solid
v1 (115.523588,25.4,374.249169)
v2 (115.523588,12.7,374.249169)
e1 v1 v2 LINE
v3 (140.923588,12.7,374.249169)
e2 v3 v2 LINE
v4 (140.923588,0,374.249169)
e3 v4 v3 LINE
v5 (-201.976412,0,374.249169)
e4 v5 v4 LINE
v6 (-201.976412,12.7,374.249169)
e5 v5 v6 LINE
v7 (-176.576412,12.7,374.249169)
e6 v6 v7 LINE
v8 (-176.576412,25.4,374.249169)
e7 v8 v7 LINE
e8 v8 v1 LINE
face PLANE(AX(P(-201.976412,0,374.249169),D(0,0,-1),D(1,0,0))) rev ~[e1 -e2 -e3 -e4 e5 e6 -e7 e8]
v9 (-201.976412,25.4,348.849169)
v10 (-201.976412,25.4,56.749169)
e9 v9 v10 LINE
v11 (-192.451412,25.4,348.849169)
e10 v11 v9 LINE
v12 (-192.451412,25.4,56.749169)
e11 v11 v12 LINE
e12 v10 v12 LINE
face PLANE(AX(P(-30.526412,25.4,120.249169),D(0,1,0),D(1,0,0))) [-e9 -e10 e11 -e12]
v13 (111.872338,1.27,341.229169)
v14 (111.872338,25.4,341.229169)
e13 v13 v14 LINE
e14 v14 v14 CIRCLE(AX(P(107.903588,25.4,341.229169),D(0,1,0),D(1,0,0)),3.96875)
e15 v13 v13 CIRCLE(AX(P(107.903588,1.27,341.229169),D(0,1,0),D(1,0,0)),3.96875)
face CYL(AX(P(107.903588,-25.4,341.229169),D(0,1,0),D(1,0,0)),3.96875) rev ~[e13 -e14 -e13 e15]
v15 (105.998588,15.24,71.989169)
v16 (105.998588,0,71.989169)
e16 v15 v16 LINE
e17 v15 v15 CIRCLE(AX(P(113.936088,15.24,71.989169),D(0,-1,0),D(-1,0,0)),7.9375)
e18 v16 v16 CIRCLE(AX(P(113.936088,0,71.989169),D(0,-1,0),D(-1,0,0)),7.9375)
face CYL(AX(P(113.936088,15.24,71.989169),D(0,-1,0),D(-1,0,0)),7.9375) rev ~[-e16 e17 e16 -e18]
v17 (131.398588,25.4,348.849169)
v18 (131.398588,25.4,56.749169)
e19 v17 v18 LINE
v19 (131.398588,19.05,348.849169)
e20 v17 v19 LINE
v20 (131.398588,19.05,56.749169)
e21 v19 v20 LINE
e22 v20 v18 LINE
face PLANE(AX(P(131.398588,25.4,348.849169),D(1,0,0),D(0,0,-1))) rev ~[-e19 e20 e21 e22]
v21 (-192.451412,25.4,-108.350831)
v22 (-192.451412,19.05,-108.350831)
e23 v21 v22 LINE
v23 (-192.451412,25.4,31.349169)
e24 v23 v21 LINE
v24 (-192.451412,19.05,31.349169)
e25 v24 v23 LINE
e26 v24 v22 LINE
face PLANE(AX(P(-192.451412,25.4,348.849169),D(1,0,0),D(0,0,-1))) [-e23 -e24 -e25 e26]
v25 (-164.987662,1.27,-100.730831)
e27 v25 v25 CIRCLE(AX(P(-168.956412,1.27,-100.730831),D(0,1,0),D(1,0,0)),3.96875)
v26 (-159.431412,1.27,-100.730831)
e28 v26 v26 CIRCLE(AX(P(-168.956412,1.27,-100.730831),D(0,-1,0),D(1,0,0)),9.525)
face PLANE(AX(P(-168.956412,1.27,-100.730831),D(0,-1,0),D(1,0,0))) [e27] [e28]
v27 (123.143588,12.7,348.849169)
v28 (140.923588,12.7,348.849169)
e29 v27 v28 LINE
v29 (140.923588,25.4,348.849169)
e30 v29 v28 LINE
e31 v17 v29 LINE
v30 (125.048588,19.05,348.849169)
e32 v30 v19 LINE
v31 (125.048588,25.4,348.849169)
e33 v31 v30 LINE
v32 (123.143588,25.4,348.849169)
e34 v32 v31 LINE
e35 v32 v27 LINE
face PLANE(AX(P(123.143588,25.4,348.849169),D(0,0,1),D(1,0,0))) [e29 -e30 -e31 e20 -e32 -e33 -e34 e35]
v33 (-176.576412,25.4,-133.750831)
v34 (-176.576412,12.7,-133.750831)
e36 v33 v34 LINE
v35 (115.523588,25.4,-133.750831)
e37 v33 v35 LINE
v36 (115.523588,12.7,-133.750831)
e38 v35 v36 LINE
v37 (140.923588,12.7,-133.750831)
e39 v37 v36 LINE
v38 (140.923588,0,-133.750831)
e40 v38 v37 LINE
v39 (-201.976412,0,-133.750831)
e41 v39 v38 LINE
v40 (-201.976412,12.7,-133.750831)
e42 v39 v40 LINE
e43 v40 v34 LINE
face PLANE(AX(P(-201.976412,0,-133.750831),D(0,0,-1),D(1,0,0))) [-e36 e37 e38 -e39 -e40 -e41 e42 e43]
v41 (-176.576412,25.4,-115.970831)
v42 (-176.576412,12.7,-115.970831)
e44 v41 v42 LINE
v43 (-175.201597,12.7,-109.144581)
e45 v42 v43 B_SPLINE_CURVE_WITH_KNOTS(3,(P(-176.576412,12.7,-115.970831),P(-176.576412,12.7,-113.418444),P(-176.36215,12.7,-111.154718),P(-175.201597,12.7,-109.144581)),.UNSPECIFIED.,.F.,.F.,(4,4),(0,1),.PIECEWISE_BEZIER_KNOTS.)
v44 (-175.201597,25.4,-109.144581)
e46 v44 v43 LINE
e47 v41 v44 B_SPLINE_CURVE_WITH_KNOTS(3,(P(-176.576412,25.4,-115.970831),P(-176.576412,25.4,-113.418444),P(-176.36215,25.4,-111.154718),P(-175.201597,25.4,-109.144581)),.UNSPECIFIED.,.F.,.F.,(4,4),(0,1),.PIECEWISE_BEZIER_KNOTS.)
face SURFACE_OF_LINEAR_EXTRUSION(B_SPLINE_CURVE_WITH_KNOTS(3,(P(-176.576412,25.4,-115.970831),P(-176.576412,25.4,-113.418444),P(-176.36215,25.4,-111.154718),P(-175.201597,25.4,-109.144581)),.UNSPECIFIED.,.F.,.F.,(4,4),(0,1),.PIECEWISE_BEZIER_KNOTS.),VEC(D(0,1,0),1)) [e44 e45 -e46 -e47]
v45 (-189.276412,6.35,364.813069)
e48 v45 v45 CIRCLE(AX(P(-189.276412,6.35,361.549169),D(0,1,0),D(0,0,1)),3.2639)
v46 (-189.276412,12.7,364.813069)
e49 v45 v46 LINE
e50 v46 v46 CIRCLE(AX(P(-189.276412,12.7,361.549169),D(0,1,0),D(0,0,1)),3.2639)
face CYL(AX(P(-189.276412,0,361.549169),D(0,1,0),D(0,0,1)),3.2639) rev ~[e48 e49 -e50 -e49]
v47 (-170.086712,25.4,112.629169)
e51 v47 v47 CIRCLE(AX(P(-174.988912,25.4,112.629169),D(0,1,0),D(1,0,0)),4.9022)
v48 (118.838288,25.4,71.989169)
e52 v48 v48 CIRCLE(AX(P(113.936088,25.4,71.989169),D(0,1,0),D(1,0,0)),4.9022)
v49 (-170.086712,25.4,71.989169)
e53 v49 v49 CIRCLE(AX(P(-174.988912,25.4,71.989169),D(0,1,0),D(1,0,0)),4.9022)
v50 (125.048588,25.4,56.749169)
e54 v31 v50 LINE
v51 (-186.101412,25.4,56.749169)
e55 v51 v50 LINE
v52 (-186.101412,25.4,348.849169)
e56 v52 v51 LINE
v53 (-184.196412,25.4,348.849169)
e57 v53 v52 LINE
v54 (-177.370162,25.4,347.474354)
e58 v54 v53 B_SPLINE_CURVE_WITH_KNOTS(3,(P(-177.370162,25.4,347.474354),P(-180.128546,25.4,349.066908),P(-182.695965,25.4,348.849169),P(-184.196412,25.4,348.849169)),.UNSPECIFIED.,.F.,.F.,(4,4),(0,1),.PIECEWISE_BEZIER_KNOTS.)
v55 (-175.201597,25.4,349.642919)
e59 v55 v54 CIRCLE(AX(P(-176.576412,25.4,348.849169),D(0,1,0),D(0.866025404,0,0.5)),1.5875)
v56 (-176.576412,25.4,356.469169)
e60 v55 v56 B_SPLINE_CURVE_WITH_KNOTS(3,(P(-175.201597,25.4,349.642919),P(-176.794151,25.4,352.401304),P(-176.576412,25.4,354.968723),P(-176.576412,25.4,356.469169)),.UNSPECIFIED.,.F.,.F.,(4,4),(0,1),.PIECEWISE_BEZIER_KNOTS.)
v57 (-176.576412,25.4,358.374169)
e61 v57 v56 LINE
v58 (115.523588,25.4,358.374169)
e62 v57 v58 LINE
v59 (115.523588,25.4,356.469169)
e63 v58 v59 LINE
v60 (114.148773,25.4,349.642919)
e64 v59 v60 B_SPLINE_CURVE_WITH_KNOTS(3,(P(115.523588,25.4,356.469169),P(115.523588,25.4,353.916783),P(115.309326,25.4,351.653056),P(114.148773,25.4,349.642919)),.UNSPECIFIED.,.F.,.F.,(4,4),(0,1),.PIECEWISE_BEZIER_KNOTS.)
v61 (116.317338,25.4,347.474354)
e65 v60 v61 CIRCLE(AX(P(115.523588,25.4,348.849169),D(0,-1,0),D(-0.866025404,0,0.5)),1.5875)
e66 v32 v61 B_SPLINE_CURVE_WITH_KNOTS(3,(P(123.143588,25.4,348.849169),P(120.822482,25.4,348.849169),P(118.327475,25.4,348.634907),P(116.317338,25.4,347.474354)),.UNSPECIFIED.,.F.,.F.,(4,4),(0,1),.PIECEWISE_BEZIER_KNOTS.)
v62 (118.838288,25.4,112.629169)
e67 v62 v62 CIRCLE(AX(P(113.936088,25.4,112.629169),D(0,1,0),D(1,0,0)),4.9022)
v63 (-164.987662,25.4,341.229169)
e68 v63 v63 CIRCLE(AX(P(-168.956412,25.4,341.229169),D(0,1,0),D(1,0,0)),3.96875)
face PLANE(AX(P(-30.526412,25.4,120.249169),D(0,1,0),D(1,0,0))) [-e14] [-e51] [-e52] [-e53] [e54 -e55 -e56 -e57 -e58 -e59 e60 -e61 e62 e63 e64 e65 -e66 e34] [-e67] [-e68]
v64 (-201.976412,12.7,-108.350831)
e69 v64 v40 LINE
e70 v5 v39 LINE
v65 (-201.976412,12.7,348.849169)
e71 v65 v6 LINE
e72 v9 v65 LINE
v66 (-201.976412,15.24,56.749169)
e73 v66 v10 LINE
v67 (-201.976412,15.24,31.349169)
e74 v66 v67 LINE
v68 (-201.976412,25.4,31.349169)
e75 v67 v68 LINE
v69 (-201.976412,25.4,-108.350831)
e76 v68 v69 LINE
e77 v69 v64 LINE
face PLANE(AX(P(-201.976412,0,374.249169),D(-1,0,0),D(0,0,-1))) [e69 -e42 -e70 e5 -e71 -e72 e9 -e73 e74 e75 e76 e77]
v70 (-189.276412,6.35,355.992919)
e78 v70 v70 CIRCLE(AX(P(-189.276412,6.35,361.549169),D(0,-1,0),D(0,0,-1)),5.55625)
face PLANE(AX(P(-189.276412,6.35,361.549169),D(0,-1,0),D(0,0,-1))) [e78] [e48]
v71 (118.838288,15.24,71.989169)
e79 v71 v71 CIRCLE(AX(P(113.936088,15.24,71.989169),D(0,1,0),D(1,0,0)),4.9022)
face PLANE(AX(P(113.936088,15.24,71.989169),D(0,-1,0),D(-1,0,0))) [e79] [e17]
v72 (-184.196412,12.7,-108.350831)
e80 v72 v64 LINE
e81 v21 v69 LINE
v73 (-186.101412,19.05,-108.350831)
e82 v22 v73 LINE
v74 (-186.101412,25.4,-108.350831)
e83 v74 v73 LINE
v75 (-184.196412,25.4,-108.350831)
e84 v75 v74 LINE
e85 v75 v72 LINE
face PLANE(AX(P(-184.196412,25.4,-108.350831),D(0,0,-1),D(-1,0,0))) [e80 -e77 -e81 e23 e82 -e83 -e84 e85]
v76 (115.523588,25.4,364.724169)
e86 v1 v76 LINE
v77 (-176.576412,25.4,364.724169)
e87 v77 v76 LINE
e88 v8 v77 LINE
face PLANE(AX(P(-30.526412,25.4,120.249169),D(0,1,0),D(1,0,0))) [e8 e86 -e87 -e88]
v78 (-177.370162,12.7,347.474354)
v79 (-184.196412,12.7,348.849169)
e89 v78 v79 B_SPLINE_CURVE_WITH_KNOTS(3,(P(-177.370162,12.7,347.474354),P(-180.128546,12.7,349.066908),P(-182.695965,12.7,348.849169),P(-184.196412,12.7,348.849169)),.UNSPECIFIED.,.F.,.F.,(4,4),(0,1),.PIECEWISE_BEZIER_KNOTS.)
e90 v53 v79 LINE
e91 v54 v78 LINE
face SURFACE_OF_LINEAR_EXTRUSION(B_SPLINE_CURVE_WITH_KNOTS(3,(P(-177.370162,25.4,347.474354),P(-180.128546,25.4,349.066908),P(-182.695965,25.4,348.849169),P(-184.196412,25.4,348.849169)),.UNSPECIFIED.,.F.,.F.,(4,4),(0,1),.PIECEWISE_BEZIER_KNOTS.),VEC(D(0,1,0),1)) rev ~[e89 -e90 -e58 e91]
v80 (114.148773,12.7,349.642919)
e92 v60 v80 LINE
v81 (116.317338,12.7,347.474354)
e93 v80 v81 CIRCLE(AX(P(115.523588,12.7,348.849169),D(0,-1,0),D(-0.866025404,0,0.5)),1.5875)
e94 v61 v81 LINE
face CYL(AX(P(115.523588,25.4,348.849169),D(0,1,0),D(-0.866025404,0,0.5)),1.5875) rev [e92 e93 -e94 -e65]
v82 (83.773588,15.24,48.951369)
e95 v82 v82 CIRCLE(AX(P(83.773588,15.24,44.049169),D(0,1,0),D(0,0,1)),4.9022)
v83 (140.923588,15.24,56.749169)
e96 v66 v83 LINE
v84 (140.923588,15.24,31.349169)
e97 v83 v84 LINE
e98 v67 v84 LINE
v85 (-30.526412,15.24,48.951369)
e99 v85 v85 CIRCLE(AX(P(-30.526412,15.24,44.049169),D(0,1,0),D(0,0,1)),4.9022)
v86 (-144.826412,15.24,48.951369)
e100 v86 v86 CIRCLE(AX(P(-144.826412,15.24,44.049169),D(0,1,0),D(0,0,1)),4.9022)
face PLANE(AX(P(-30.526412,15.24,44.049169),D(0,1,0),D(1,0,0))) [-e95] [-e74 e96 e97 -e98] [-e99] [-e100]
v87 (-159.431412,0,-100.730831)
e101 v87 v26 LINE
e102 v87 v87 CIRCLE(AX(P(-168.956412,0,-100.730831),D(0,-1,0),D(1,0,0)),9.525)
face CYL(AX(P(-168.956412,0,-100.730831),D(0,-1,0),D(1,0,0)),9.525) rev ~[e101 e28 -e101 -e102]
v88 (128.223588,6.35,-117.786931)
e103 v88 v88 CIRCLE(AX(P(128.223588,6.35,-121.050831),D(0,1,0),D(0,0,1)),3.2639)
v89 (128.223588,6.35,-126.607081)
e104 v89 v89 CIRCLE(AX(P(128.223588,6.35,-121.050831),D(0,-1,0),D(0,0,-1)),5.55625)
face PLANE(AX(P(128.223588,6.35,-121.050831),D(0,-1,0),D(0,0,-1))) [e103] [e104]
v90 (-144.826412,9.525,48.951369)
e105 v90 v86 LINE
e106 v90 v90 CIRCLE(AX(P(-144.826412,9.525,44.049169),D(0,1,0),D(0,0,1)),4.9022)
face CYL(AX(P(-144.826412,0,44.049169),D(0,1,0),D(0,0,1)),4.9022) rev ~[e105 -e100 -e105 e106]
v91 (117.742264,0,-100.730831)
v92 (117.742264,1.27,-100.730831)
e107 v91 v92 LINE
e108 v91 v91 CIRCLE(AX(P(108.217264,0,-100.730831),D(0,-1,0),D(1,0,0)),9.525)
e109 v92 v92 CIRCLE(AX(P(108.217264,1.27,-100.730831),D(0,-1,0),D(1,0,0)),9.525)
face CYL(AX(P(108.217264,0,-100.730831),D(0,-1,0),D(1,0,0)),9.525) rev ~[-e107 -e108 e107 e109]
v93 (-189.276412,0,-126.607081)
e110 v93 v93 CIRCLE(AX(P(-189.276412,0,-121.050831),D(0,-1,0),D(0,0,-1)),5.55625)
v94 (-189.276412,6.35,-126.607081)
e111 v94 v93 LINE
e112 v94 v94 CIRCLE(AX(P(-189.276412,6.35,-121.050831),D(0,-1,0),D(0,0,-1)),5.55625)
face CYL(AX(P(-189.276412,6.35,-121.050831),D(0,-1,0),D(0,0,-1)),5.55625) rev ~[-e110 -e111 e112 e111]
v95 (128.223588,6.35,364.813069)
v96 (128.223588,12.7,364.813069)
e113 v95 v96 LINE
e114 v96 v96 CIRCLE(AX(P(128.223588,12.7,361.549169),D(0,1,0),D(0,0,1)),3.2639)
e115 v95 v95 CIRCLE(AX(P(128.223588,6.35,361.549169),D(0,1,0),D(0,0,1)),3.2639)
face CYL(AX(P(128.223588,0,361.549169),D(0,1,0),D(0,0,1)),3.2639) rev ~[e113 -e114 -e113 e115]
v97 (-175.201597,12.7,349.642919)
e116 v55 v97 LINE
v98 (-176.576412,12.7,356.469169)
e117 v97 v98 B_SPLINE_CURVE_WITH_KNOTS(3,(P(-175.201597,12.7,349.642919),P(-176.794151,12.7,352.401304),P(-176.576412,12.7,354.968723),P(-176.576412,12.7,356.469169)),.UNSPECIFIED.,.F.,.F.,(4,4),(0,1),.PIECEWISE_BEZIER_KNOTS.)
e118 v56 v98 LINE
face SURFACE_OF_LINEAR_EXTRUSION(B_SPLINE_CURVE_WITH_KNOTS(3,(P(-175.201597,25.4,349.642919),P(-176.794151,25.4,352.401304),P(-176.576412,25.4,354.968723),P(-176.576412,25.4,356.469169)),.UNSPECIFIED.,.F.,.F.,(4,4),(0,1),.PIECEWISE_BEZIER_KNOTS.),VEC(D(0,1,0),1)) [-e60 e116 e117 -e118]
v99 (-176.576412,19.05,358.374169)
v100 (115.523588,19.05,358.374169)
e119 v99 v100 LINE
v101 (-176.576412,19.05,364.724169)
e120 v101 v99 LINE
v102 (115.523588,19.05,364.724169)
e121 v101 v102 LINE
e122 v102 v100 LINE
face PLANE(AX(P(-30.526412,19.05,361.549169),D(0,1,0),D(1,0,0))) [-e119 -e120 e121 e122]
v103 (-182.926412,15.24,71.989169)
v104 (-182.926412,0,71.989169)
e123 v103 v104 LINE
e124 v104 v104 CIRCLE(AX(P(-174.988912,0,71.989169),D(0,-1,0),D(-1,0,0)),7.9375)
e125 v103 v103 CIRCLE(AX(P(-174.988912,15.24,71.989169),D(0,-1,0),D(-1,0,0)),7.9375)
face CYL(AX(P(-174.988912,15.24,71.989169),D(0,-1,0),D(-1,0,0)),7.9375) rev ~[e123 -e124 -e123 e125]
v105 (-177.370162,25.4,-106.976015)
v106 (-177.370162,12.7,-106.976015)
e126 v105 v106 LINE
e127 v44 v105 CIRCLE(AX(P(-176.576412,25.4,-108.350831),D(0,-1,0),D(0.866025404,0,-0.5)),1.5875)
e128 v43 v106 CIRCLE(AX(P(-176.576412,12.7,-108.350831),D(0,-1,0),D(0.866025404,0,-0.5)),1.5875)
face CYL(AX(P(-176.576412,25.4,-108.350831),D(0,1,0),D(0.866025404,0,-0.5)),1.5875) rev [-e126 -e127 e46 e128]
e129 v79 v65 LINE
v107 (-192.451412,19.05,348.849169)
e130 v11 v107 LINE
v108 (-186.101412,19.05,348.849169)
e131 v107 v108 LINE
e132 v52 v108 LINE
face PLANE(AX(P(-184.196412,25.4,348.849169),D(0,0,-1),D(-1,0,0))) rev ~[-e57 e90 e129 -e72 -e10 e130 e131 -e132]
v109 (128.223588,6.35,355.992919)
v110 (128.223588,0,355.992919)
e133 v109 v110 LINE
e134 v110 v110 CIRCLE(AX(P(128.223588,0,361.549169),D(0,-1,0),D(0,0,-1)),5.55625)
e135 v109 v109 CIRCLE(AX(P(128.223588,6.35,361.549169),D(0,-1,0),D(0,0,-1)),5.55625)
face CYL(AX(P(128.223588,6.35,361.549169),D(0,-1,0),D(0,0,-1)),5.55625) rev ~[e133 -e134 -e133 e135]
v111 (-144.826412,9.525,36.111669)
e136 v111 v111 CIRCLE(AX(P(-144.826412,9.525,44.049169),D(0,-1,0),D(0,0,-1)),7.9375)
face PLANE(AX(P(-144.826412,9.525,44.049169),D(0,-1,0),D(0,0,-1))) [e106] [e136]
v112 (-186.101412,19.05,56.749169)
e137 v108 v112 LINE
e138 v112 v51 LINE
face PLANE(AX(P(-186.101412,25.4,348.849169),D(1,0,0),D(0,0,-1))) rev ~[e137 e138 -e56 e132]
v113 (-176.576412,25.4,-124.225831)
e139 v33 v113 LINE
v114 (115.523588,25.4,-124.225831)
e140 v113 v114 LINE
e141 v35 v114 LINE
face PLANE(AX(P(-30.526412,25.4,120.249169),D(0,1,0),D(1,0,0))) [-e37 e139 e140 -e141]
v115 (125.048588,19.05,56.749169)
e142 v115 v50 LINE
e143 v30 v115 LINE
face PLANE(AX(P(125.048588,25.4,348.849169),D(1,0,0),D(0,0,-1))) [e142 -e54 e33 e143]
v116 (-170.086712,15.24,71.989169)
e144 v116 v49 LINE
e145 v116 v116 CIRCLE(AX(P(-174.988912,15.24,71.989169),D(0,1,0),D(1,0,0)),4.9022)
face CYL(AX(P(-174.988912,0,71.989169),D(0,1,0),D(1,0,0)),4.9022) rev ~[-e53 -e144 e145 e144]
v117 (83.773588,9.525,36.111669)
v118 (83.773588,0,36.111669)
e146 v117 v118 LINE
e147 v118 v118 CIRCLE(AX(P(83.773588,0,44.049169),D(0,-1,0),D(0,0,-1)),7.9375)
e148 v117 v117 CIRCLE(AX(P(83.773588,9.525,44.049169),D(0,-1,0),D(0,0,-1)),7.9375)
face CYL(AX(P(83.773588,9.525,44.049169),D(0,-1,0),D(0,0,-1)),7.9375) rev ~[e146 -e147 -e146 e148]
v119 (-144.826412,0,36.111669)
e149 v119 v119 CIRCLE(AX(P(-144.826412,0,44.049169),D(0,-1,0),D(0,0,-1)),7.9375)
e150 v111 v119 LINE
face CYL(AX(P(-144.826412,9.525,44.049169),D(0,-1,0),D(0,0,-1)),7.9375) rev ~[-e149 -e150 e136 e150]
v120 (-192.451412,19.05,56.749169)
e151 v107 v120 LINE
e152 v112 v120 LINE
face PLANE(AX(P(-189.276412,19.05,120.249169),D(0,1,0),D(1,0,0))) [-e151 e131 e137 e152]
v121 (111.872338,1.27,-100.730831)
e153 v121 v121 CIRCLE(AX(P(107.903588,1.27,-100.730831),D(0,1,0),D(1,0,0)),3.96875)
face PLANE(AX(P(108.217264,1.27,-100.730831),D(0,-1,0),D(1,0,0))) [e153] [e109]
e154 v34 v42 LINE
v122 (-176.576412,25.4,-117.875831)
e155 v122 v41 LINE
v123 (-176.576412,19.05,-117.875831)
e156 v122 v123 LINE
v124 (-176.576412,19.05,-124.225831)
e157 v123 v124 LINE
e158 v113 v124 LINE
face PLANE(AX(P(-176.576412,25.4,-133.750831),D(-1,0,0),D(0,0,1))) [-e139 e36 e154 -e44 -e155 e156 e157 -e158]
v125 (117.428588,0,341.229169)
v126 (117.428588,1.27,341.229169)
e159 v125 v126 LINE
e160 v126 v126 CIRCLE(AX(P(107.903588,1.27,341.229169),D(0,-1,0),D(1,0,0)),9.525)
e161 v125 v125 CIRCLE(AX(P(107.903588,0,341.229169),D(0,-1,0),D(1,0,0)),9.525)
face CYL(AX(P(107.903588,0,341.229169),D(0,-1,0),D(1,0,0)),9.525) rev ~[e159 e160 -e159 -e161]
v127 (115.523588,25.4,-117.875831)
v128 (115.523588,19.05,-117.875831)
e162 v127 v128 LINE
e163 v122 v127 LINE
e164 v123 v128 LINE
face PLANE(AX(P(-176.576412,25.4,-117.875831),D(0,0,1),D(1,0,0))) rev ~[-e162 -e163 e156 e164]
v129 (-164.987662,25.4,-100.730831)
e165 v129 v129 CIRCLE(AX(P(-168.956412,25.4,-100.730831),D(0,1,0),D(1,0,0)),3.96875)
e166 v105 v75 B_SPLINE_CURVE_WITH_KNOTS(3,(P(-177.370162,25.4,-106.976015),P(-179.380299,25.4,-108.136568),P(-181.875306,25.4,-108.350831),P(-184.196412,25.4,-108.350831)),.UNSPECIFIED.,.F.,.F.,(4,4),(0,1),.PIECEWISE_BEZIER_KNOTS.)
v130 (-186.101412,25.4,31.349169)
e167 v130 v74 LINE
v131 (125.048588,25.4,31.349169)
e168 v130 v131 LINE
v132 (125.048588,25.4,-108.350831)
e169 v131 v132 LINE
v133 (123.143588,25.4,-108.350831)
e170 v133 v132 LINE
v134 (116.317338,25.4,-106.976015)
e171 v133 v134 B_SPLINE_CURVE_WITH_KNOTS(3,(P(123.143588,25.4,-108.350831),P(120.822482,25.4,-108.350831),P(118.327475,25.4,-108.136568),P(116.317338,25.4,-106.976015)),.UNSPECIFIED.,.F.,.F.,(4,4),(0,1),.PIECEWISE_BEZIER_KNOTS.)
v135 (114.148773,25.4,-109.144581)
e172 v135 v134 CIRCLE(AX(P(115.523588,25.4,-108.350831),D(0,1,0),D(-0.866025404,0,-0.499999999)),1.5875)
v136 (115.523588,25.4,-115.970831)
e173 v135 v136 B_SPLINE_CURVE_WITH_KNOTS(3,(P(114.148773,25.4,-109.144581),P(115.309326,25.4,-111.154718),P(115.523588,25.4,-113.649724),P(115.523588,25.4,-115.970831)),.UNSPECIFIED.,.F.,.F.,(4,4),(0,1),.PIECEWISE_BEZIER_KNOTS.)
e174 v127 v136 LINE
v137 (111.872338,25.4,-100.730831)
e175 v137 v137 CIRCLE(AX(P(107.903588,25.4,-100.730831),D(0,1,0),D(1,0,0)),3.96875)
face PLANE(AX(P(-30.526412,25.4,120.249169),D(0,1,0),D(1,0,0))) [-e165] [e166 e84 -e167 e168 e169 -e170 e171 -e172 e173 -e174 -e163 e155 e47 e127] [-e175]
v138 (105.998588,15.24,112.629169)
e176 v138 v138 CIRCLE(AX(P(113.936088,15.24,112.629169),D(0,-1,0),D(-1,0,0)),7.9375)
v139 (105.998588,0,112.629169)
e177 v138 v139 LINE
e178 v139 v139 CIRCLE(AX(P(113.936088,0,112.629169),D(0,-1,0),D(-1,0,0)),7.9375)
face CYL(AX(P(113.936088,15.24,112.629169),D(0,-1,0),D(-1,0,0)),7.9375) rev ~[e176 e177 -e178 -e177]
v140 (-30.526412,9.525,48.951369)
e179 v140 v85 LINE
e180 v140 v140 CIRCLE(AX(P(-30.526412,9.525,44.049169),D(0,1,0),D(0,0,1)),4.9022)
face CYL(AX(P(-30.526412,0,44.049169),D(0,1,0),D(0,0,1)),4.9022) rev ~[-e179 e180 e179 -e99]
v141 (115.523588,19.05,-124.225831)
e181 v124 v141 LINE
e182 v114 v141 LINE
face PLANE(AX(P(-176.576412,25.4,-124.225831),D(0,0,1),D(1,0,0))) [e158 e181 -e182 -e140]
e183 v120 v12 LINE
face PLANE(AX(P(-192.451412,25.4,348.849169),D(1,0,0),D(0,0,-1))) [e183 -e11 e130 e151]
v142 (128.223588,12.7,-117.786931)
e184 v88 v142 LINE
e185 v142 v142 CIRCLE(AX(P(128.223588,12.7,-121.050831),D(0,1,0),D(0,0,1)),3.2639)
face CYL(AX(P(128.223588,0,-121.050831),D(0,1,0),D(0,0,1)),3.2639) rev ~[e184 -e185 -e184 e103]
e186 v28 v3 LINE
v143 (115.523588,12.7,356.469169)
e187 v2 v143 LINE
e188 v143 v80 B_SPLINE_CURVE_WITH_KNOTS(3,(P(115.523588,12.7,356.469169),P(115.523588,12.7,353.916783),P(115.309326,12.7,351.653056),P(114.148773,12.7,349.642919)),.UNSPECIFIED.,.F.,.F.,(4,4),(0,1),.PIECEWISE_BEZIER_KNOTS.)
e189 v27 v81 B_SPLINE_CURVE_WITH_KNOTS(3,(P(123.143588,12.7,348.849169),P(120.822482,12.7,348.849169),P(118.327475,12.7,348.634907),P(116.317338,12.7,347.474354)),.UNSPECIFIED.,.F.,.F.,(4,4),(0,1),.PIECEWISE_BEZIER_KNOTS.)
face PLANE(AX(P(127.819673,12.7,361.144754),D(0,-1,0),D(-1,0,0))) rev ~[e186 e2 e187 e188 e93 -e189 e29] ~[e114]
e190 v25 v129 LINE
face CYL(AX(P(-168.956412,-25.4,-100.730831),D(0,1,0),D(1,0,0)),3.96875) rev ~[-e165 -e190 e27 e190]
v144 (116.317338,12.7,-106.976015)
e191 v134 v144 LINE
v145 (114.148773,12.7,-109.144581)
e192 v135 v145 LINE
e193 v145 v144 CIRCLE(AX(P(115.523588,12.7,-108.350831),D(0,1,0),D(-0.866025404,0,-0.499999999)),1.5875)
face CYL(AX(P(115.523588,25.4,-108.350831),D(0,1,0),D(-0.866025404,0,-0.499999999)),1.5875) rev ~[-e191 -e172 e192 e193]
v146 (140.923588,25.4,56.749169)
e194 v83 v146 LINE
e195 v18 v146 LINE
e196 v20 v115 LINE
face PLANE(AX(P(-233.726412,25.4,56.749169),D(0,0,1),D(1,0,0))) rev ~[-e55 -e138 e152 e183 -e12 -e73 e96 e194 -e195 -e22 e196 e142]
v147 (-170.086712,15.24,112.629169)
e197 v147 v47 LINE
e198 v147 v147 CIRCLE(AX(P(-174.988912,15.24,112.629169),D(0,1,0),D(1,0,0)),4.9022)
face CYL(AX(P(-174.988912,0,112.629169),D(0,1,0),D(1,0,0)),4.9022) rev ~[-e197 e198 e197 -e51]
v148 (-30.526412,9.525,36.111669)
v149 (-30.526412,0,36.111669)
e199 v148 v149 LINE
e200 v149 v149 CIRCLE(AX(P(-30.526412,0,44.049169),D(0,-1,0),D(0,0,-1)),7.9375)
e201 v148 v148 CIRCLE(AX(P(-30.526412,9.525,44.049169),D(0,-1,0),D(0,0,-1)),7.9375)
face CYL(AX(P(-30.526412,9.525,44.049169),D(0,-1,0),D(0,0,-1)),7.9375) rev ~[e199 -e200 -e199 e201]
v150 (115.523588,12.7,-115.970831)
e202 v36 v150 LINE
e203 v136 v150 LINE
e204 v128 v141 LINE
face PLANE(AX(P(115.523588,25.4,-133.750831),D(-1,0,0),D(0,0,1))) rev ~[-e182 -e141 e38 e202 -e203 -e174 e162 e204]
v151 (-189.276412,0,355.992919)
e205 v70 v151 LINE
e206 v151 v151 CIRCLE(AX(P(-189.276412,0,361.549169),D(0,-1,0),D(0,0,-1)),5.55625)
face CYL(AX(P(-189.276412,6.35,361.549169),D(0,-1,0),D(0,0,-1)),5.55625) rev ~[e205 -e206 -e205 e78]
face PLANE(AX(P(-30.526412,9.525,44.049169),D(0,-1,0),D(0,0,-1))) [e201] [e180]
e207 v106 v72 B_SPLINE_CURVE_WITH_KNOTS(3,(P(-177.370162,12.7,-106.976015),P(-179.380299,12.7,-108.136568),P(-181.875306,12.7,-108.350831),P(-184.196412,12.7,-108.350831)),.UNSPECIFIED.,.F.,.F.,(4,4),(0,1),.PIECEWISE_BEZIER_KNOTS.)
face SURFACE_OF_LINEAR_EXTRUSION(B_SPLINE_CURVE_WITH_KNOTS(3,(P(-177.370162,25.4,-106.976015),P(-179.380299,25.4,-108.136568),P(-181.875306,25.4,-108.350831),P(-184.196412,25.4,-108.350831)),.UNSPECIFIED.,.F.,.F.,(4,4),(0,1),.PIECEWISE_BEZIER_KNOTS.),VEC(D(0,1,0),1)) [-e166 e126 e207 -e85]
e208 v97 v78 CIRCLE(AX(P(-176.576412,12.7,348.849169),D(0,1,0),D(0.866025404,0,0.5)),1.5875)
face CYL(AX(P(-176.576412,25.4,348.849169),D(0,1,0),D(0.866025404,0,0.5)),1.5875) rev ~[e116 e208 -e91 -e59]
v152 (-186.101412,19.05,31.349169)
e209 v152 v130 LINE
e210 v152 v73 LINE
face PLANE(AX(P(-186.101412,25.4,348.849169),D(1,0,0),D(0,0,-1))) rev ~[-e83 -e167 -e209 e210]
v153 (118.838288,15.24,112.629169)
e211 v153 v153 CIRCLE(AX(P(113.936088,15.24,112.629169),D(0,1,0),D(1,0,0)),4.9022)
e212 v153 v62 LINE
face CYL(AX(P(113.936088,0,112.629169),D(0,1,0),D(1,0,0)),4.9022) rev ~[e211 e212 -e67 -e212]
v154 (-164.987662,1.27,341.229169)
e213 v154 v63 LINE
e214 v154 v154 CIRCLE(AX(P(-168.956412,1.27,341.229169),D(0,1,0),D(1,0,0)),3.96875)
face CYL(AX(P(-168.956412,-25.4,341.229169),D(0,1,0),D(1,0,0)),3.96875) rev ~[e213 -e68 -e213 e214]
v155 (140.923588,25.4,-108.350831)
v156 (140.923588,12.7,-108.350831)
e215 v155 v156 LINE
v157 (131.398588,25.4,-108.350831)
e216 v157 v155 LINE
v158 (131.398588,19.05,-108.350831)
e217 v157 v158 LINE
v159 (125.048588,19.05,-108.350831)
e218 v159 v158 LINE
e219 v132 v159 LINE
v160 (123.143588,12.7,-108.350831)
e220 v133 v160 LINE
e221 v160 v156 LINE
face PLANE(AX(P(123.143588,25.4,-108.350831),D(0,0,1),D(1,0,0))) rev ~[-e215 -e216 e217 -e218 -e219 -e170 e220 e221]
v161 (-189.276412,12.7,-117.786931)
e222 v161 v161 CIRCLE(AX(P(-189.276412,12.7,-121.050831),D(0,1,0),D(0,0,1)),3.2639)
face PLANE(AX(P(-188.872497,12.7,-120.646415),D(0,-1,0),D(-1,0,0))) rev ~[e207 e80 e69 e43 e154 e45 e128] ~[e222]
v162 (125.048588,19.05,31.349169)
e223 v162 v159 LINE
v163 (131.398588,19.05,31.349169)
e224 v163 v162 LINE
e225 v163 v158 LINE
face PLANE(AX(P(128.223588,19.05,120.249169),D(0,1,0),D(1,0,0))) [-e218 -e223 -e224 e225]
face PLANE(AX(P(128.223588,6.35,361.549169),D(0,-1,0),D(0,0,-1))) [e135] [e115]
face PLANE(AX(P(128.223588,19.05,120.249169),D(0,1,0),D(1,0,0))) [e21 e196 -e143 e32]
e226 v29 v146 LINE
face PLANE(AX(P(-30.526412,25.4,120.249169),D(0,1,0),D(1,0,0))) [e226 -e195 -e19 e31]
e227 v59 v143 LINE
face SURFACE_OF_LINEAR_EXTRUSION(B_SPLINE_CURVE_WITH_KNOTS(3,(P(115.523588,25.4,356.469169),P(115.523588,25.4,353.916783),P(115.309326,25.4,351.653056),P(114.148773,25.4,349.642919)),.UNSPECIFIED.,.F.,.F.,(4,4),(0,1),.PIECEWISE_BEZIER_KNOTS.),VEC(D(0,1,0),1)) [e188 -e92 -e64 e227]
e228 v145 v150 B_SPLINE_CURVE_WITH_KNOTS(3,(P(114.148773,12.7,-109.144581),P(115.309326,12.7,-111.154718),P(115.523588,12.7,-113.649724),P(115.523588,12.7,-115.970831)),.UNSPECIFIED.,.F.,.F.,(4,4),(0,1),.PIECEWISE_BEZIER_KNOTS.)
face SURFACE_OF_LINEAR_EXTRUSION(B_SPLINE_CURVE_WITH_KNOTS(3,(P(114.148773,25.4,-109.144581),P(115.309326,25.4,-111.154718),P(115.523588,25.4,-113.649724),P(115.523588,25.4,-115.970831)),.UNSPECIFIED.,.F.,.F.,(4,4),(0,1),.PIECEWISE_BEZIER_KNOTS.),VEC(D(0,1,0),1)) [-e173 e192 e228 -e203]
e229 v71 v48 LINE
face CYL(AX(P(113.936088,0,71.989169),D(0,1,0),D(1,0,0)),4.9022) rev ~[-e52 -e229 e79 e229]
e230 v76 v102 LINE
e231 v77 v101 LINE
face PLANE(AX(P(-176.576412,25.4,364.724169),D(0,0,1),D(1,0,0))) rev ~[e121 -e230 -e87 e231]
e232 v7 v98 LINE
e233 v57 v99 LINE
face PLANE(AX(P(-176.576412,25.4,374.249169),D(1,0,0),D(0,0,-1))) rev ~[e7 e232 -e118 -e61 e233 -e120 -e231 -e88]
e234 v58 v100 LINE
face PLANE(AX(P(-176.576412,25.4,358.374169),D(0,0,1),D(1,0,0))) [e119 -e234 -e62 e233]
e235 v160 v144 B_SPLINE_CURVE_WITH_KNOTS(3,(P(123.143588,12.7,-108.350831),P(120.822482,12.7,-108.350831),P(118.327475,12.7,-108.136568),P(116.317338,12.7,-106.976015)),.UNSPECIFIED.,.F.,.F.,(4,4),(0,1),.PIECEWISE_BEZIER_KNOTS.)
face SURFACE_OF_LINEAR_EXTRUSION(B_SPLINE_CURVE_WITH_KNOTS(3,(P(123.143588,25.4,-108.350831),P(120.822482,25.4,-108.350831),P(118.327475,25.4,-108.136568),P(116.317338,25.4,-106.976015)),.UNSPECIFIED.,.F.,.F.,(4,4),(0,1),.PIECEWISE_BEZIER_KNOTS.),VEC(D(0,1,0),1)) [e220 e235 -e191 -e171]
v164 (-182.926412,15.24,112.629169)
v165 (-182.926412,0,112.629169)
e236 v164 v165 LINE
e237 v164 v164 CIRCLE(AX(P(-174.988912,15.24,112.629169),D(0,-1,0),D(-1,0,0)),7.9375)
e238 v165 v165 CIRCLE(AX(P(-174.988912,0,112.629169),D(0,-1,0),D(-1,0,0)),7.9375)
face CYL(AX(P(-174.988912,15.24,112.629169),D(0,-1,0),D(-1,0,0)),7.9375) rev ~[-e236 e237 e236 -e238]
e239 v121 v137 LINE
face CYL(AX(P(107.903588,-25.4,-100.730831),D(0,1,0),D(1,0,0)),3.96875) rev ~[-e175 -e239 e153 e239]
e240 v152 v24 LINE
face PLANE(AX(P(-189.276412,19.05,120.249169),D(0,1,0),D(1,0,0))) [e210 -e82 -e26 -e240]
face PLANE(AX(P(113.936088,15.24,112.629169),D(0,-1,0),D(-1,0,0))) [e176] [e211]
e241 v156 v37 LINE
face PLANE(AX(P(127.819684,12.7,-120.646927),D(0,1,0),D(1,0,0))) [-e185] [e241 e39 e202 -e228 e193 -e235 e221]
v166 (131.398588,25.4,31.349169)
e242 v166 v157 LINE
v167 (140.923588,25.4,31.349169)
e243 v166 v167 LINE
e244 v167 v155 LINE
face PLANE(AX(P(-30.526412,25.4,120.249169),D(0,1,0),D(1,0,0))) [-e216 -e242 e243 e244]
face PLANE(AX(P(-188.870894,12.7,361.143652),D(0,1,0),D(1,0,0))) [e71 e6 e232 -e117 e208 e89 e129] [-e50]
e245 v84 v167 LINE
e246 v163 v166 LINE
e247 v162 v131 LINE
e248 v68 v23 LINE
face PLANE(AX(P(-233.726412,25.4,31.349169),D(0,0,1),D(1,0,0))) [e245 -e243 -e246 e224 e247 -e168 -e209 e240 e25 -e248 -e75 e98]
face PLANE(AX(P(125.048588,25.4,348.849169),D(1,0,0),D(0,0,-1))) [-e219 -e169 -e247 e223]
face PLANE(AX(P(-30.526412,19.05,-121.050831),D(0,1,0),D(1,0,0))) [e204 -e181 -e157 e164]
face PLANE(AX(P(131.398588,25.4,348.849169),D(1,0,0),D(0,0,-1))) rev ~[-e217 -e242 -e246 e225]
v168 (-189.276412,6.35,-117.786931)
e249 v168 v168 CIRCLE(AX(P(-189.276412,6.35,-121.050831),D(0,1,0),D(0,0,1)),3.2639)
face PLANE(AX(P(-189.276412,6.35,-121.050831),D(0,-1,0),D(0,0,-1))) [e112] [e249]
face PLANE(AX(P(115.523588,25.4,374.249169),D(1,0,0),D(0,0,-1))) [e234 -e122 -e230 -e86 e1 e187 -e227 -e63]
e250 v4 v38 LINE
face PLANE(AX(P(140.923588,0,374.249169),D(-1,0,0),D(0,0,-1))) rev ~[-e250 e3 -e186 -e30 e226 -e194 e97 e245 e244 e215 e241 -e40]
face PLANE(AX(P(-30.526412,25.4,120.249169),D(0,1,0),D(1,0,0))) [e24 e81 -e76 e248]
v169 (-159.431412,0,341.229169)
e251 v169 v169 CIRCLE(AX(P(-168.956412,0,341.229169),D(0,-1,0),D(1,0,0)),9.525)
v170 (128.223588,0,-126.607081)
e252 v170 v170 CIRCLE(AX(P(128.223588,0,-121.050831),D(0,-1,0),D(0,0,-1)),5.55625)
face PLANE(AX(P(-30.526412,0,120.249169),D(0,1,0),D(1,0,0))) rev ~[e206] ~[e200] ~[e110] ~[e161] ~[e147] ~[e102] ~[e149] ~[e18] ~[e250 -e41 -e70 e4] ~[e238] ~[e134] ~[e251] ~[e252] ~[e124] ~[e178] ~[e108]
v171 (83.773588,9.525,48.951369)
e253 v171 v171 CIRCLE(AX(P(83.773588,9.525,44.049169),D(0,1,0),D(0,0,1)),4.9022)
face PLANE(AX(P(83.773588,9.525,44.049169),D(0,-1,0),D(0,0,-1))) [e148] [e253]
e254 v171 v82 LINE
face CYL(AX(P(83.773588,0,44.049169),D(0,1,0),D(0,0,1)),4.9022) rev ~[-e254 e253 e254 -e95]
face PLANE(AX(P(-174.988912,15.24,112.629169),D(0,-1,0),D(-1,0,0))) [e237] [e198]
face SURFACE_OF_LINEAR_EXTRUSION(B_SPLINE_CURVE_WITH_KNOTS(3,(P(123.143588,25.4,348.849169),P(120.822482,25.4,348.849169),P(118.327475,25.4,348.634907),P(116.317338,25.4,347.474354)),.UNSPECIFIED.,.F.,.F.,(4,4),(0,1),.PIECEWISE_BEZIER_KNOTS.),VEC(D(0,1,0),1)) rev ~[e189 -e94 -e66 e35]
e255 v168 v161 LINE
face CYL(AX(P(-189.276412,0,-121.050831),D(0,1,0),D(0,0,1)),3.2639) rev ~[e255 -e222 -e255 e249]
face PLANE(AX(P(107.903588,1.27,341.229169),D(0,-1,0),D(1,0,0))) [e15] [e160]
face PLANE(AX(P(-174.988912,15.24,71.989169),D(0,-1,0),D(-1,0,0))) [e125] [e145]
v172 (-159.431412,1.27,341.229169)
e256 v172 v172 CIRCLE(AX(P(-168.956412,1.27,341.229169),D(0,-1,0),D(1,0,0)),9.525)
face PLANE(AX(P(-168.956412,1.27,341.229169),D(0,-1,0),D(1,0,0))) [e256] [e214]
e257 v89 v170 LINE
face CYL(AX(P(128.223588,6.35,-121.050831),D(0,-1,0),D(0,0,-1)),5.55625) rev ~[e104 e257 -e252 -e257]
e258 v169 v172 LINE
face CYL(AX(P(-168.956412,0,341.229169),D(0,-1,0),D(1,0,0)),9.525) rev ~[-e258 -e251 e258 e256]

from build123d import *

# Parameters (mm, degrees)
BASE_W                                           = 342.9
BASE_H                                           = 508
BOSS_EXTRUDE1_DEPTH                              = 25.4
SKETCH2_W                                        = 406.4
SKETCH2_H                                        = 25.4
CUT_EXTRUDE1_DEPTH                               = 10.16
CBORE_FOR_3_8_SOCKET_HEAD_CAP_SCREW4_D           = 9.8044
CBORE_FOR_3_8_SOCKET_HEAD_CAP_SCREW4_DEPTH       = 15.24
CBORE_FOR_3_8_SOCKET_HEAD_CAP_SCREW4_CBORE_D     = 15.875
CBORE_FOR_3_8_SOCKET_HEAD_CAP_SCREW4_CBORE_DEPTH = 9.525
CBORE_FOR_3_8_SOCKET_HEAD_CAP_SCREW3_D           = 9.8044
CBORE_FOR_3_8_SOCKET_HEAD_CAP_SCREW3_DEPTH       = 25.4
CBORE_FOR_3_8_SOCKET_HEAD_CAP_SCREW3_CBORE_D     = 15.875
CBORE_FOR_3_8_SOCKET_HEAD_CAP_SCREW3_CBORE_DEPTH = 15.24
CBORE_FOR_1_4_SOCKET_HEAD_CAP_SCREW1_D           = 6.5278
CBORE_FOR_1_4_SOCKET_HEAD_CAP_SCREW1_DEPTH       = 25.4
CBORE_FOR_1_4_SOCKET_HEAD_CAP_SCREW1_CBORE_D     = 11.1125
CBORE_FOR_1_4_SOCKET_HEAD_CAP_SCREW1_CBORE_DEPTH = 6.35
CUT_EXTRUDE3_DEPTH                               = 12.7
SKETCH10_W                                       = 6.35
SKETCH10_H                                       = 457.2
SKETCH10_W_2                                     = 292.1
SKETCH10_H_2                                     = 6.35
CUT_EXTRUDE4_DEPTH                               = 6.35
F_3_8_16_TAPPED_HOLE2_D                          = 7.9375
F_3_8_16_TAPPED_HOLE2_DEPTH                      = 25.4
SKETCH19_R                                       = 9.525
CUT_EXTRUDE5_DEPTH                               = 1.27


with BuildPart() as part:
    # Base → Boss-Extrude1 (new body)
    with BuildSketch(Plane(origin=(0, 0, 0), x_dir=(1, 0, 0), z_dir=(0, 1, 0))):
        with Locations((-30.52641196, -120.249169435)):
            Rectangle(BASE_W, BASE_H)
    extrude(amount=BOSS_EXTRUDE1_DEPTH)

    # Sketch2 → Cut-Extrude1 (cut)
    with BuildSketch(Plane(origin=(0, 25.4, 0), x_dir=(1, 0, 0), z_dir=(0, 1, 0))):
        with Locations((-30.52641196, -44.049169435)):
            Rectangle(SKETCH2_W, SKETCH2_H)
    extrude(amount=-CUT_EXTRUDE1_DEPTH, mode=Mode.SUBTRACT)

    # CBORE for 3/8 Socket Head Cap Screw4
    with Locations(Plane(origin=(83.77358804, 0, 44.049169435), x_dir=(0, 0, -1), z_dir=(0, -1, 0))):
        with Locations((0, 0), (0, -114.3), (0, -228.6)):
            CounterBoreHole(CBORE_FOR_3_8_SOCKET_HEAD_CAP_SCREW4_D / 2, CBORE_FOR_3_8_SOCKET_HEAD_CAP_SCREW4_CBORE_D / 2, CBORE_FOR_3_8_SOCKET_HEAD_CAP_SCREW4_CBORE_DEPTH, depth=CBORE_FOR_3_8_SOCKET_HEAD_CAP_SCREW4_DEPTH)

    # CBORE for 3/8 Socket Head Cap Screw3
    with Locations(Plane(origin=(0, 0, 0), x_dir=(-1, 0, 0), z_dir=(0, -1, 0))):
        with Locations((-113.93608804, -71.989169435), (-113.93608804, -112.629169435), (174.98891196, -71.989169435), (174.98891196, -112.629169435)):
            CounterBoreHole(CBORE_FOR_3_8_SOCKET_HEAD_CAP_SCREW3_D / 2, CBORE_FOR_3_8_SOCKET_HEAD_CAP_SCREW3_CBORE_D / 2, CBORE_FOR_3_8_SOCKET_HEAD_CAP_SCREW3_CBORE_DEPTH, depth=CBORE_FOR_3_8_SOCKET_HEAD_CAP_SCREW3_DEPTH)

    # CBORE for 1/4 Socket Head Cap Screw1
    with Locations(Plane(origin=(128.22358804, 0, 361.549169435), x_dir=(0, 0, -1), z_dir=(0, -1, 0))):
        with Locations((0, 0), (0, -317.5), (482.6, -317.5), (482.6, 0)):
            CounterBoreHole(CBORE_FOR_1_4_SOCKET_HEAD_CAP_SCREW1_D / 2, CBORE_FOR_1_4_SOCKET_HEAD_CAP_SCREW1_CBORE_D / 2, CBORE_FOR_1_4_SOCKET_HEAD_CAP_SCREW1_CBORE_DEPTH, depth=CBORE_FOR_1_4_SOCKET_HEAD_CAP_SCREW1_DEPTH)

    # Sketch8 → Cut-Extrude3 (cut)
    with BuildSketch(Plane(origin=(0, 25.4, 0), x_dir=(1, 0, 0), z_dir=(0, 1, 0))):
        with BuildLine():
            Line((140.92358804, -374.249169435), (115.52358804, -374.249169435))
            Line((115.52358804, -374.249169435), (115.52358804, -356.469169435))
            add(Edge.make_bspline(
                [(115.52358804, -356.469169435), (115.52358804, -353.916782548), (115.309325815, -351.653056376), (114.148772711, -349.642919435)],
                knots=[0, 0, 0, 0, 1, 1, 1, 1], degree=3))
            ThreePointArc((114.148772711, -349.642919435), (114.401056025, -347.72663742), (116.31733804, -347.474354107))
            add(Edge.make_bspline(
                [(123.14358804, -348.849169435), (120.822481832, -348.849169435), (118.327474981, -348.634907211), (116.31733804, -347.474354107)],
                knots=[0, 0, 0, 0, 1, 1, 1, 1], degree=3))
            Line((123.14358804, -348.849169435), (140.92358804, -348.849169435))
            Line((140.92358804, -348.849169435), (140.92358804, -374.249169435))
        make_face()
        with BuildLine():
            Line((-201.97641196, -374.249169435), (-176.57641196, -374.249169435))
            Line((-176.57641196, -374.249169435), (-176.57641196, -356.469169435))
            add(Edge.make_bspline(
                [(-175.201596632, -349.642919435), (-176.794150567, -352.401303766), (-176.57641196, -354.968722974), (-176.57641196, -356.469169435)],
                knots=[0, 0, 0, 0, 1, 1, 1, 1], degree=3))
            ThreePointArc((-175.201596632, -349.642919435), (-175.453879945, -347.72663742), (-177.37016196, -347.474354107))
            add(Edge.make_bspline(
                [(-177.37016196, -347.474354107), (-180.128546291, -349.066908042), (-182.695965499, -348.849169435), (-184.19641196, -348.849169435)],
                knots=[0, 0, 0, 0, 1, 1, 1, 1], degree=3))
            Line((-184.19641196, -348.849169435), (-201.97641196, -348.849169435))
            Line((-201.97641196, -348.849169435), (-201.97641196, -374.249169435))
        make_face()
        with BuildLine():
            Line((-201.97641196, 133.750830565), (-176.57641196, 133.750830565))
            Line((-176.57641196, 133.750830565), (-176.57641196, 115.970830565))
            add(Edge.make_bspline(
                [(-176.57641196, 115.970830565), (-176.57641196, 113.418443678), (-176.362149736, 111.154717506), (-175.201596632, 109.144580565)],
                knots=[0, 0, 0, 0, 1, 1, 1, 1], degree=3))
            ThreePointArc((-175.201596632, 109.144580565), (-175.453879945, 107.22829855), (-177.37016196, 106.976015236))
            add(Edge.make_bspline(
                [(-177.37016196, 106.976015236), (-179.380298901, 108.13656834), (-181.875305752, 108.350830565), (-184.19641196, 108.350830565)],
                knots=[0, 0, 0, 0, 1, 1, 1, 1], degree=3))
            Line((-184.19641196, 108.350830565), (-201.97641196, 108.350830565))
            Line((-201.97641196, 108.350830565), (-201.97641196, 133.750830565))
        make_face()
        with BuildLine():
            Line((140.92358804, 133.750830565), (115.52358804, 133.750830565))
            Line((115.52358804, 133.750830565), (115.52358804, 115.970830565))
            add(Edge.make_bspline(
                [(114.148772711, 109.144580565), (115.309325815, 111.154717506), (115.52358804, 113.649724357), (115.52358804, 115.970830565)],
                knots=[0, 0, 0, 0, 1, 1, 1, 1], degree=3))
            ThreePointArc((114.148772711, 109.144580565), (114.401056025, 107.22829855), (116.31733804, 106.976015236))
            add(Edge.make_bspline(
                [(123.14358804, 108.350830565), (120.822481832, 108.350830565), (118.327474981, 108.13656834), (116.31733804, 106.976015236)],
                knots=[0, 0, 0, 0, 1, 1, 1, 1], degree=3))
            Line((123.14358804, 108.350830565), (140.92358804, 108.350830565))
            Line((140.92358804, 108.350830565), (140.92358804, 133.750830565))
        make_face()
    extrude(amount=-CUT_EXTRUDE3_DEPTH, mode=Mode.SUBTRACT)

    # Sketch10 → Cut-Extrude4 (cut)
    with BuildSketch(Plane(origin=(0, 25.4, 0), x_dir=(1, 0, 0), z_dir=(0, 1, 0))):
        with Locations((128.22358804, -120.249169435)):
            Rectangle(SKETCH10_W, SKETCH10_H)
        with Locations((-189.27641196, -120.249169435)):
            Rectangle(SKETCH10_W, SKETCH10_H)
        with Locations((-30.52641196, 121.050830565)):
            Rectangle(SKETCH10_W_2, SKETCH10_H_2)
        with Locations((-30.52641196, -361.549169435)):
            Rectangle(SKETCH10_W_2, SKETCH10_H_2)
    extrude(amount=-CUT_EXTRUDE4_DEPTH, mode=Mode.SUBTRACT)

    # 3/8-16 Tapped Hole2
    with Locations(Plane(origin=(0, 0, 0), x_dir=(-1, 0, 0), z_dir=(0, -1, 0))):
        with Locations((-107.90358804, -341.229169435), (168.95641196, -341.229169435), (168.95641196, 100.730830565), (-107.90358804, 100.730830565)):
            Hole(F_3_8_16_TAPPED_HOLE2_D / 2, depth=F_3_8_16_TAPPED_HOLE2_DEPTH)

    # Sketch19 → Cut-Extrude5 (cut)
    with BuildSketch(Plane.XZ):
        with Locations((-168.95641196, -100.730830565)):
            Circle(SKETCH19_R)
        with Locations((-168.95641196, 341.229169435)):
            Circle(SKETCH19_R)
        with Locations((107.90358804, 341.229169435)):
            Circle(SKETCH19_R)
        with Locations((108.217263786, -100.730830565)):
            Circle(SKETCH19_R)
    extrude(amount=-CUT_EXTRUDE5_DEPTH, mode=Mode.SUBTRACT)


solid = part.part
